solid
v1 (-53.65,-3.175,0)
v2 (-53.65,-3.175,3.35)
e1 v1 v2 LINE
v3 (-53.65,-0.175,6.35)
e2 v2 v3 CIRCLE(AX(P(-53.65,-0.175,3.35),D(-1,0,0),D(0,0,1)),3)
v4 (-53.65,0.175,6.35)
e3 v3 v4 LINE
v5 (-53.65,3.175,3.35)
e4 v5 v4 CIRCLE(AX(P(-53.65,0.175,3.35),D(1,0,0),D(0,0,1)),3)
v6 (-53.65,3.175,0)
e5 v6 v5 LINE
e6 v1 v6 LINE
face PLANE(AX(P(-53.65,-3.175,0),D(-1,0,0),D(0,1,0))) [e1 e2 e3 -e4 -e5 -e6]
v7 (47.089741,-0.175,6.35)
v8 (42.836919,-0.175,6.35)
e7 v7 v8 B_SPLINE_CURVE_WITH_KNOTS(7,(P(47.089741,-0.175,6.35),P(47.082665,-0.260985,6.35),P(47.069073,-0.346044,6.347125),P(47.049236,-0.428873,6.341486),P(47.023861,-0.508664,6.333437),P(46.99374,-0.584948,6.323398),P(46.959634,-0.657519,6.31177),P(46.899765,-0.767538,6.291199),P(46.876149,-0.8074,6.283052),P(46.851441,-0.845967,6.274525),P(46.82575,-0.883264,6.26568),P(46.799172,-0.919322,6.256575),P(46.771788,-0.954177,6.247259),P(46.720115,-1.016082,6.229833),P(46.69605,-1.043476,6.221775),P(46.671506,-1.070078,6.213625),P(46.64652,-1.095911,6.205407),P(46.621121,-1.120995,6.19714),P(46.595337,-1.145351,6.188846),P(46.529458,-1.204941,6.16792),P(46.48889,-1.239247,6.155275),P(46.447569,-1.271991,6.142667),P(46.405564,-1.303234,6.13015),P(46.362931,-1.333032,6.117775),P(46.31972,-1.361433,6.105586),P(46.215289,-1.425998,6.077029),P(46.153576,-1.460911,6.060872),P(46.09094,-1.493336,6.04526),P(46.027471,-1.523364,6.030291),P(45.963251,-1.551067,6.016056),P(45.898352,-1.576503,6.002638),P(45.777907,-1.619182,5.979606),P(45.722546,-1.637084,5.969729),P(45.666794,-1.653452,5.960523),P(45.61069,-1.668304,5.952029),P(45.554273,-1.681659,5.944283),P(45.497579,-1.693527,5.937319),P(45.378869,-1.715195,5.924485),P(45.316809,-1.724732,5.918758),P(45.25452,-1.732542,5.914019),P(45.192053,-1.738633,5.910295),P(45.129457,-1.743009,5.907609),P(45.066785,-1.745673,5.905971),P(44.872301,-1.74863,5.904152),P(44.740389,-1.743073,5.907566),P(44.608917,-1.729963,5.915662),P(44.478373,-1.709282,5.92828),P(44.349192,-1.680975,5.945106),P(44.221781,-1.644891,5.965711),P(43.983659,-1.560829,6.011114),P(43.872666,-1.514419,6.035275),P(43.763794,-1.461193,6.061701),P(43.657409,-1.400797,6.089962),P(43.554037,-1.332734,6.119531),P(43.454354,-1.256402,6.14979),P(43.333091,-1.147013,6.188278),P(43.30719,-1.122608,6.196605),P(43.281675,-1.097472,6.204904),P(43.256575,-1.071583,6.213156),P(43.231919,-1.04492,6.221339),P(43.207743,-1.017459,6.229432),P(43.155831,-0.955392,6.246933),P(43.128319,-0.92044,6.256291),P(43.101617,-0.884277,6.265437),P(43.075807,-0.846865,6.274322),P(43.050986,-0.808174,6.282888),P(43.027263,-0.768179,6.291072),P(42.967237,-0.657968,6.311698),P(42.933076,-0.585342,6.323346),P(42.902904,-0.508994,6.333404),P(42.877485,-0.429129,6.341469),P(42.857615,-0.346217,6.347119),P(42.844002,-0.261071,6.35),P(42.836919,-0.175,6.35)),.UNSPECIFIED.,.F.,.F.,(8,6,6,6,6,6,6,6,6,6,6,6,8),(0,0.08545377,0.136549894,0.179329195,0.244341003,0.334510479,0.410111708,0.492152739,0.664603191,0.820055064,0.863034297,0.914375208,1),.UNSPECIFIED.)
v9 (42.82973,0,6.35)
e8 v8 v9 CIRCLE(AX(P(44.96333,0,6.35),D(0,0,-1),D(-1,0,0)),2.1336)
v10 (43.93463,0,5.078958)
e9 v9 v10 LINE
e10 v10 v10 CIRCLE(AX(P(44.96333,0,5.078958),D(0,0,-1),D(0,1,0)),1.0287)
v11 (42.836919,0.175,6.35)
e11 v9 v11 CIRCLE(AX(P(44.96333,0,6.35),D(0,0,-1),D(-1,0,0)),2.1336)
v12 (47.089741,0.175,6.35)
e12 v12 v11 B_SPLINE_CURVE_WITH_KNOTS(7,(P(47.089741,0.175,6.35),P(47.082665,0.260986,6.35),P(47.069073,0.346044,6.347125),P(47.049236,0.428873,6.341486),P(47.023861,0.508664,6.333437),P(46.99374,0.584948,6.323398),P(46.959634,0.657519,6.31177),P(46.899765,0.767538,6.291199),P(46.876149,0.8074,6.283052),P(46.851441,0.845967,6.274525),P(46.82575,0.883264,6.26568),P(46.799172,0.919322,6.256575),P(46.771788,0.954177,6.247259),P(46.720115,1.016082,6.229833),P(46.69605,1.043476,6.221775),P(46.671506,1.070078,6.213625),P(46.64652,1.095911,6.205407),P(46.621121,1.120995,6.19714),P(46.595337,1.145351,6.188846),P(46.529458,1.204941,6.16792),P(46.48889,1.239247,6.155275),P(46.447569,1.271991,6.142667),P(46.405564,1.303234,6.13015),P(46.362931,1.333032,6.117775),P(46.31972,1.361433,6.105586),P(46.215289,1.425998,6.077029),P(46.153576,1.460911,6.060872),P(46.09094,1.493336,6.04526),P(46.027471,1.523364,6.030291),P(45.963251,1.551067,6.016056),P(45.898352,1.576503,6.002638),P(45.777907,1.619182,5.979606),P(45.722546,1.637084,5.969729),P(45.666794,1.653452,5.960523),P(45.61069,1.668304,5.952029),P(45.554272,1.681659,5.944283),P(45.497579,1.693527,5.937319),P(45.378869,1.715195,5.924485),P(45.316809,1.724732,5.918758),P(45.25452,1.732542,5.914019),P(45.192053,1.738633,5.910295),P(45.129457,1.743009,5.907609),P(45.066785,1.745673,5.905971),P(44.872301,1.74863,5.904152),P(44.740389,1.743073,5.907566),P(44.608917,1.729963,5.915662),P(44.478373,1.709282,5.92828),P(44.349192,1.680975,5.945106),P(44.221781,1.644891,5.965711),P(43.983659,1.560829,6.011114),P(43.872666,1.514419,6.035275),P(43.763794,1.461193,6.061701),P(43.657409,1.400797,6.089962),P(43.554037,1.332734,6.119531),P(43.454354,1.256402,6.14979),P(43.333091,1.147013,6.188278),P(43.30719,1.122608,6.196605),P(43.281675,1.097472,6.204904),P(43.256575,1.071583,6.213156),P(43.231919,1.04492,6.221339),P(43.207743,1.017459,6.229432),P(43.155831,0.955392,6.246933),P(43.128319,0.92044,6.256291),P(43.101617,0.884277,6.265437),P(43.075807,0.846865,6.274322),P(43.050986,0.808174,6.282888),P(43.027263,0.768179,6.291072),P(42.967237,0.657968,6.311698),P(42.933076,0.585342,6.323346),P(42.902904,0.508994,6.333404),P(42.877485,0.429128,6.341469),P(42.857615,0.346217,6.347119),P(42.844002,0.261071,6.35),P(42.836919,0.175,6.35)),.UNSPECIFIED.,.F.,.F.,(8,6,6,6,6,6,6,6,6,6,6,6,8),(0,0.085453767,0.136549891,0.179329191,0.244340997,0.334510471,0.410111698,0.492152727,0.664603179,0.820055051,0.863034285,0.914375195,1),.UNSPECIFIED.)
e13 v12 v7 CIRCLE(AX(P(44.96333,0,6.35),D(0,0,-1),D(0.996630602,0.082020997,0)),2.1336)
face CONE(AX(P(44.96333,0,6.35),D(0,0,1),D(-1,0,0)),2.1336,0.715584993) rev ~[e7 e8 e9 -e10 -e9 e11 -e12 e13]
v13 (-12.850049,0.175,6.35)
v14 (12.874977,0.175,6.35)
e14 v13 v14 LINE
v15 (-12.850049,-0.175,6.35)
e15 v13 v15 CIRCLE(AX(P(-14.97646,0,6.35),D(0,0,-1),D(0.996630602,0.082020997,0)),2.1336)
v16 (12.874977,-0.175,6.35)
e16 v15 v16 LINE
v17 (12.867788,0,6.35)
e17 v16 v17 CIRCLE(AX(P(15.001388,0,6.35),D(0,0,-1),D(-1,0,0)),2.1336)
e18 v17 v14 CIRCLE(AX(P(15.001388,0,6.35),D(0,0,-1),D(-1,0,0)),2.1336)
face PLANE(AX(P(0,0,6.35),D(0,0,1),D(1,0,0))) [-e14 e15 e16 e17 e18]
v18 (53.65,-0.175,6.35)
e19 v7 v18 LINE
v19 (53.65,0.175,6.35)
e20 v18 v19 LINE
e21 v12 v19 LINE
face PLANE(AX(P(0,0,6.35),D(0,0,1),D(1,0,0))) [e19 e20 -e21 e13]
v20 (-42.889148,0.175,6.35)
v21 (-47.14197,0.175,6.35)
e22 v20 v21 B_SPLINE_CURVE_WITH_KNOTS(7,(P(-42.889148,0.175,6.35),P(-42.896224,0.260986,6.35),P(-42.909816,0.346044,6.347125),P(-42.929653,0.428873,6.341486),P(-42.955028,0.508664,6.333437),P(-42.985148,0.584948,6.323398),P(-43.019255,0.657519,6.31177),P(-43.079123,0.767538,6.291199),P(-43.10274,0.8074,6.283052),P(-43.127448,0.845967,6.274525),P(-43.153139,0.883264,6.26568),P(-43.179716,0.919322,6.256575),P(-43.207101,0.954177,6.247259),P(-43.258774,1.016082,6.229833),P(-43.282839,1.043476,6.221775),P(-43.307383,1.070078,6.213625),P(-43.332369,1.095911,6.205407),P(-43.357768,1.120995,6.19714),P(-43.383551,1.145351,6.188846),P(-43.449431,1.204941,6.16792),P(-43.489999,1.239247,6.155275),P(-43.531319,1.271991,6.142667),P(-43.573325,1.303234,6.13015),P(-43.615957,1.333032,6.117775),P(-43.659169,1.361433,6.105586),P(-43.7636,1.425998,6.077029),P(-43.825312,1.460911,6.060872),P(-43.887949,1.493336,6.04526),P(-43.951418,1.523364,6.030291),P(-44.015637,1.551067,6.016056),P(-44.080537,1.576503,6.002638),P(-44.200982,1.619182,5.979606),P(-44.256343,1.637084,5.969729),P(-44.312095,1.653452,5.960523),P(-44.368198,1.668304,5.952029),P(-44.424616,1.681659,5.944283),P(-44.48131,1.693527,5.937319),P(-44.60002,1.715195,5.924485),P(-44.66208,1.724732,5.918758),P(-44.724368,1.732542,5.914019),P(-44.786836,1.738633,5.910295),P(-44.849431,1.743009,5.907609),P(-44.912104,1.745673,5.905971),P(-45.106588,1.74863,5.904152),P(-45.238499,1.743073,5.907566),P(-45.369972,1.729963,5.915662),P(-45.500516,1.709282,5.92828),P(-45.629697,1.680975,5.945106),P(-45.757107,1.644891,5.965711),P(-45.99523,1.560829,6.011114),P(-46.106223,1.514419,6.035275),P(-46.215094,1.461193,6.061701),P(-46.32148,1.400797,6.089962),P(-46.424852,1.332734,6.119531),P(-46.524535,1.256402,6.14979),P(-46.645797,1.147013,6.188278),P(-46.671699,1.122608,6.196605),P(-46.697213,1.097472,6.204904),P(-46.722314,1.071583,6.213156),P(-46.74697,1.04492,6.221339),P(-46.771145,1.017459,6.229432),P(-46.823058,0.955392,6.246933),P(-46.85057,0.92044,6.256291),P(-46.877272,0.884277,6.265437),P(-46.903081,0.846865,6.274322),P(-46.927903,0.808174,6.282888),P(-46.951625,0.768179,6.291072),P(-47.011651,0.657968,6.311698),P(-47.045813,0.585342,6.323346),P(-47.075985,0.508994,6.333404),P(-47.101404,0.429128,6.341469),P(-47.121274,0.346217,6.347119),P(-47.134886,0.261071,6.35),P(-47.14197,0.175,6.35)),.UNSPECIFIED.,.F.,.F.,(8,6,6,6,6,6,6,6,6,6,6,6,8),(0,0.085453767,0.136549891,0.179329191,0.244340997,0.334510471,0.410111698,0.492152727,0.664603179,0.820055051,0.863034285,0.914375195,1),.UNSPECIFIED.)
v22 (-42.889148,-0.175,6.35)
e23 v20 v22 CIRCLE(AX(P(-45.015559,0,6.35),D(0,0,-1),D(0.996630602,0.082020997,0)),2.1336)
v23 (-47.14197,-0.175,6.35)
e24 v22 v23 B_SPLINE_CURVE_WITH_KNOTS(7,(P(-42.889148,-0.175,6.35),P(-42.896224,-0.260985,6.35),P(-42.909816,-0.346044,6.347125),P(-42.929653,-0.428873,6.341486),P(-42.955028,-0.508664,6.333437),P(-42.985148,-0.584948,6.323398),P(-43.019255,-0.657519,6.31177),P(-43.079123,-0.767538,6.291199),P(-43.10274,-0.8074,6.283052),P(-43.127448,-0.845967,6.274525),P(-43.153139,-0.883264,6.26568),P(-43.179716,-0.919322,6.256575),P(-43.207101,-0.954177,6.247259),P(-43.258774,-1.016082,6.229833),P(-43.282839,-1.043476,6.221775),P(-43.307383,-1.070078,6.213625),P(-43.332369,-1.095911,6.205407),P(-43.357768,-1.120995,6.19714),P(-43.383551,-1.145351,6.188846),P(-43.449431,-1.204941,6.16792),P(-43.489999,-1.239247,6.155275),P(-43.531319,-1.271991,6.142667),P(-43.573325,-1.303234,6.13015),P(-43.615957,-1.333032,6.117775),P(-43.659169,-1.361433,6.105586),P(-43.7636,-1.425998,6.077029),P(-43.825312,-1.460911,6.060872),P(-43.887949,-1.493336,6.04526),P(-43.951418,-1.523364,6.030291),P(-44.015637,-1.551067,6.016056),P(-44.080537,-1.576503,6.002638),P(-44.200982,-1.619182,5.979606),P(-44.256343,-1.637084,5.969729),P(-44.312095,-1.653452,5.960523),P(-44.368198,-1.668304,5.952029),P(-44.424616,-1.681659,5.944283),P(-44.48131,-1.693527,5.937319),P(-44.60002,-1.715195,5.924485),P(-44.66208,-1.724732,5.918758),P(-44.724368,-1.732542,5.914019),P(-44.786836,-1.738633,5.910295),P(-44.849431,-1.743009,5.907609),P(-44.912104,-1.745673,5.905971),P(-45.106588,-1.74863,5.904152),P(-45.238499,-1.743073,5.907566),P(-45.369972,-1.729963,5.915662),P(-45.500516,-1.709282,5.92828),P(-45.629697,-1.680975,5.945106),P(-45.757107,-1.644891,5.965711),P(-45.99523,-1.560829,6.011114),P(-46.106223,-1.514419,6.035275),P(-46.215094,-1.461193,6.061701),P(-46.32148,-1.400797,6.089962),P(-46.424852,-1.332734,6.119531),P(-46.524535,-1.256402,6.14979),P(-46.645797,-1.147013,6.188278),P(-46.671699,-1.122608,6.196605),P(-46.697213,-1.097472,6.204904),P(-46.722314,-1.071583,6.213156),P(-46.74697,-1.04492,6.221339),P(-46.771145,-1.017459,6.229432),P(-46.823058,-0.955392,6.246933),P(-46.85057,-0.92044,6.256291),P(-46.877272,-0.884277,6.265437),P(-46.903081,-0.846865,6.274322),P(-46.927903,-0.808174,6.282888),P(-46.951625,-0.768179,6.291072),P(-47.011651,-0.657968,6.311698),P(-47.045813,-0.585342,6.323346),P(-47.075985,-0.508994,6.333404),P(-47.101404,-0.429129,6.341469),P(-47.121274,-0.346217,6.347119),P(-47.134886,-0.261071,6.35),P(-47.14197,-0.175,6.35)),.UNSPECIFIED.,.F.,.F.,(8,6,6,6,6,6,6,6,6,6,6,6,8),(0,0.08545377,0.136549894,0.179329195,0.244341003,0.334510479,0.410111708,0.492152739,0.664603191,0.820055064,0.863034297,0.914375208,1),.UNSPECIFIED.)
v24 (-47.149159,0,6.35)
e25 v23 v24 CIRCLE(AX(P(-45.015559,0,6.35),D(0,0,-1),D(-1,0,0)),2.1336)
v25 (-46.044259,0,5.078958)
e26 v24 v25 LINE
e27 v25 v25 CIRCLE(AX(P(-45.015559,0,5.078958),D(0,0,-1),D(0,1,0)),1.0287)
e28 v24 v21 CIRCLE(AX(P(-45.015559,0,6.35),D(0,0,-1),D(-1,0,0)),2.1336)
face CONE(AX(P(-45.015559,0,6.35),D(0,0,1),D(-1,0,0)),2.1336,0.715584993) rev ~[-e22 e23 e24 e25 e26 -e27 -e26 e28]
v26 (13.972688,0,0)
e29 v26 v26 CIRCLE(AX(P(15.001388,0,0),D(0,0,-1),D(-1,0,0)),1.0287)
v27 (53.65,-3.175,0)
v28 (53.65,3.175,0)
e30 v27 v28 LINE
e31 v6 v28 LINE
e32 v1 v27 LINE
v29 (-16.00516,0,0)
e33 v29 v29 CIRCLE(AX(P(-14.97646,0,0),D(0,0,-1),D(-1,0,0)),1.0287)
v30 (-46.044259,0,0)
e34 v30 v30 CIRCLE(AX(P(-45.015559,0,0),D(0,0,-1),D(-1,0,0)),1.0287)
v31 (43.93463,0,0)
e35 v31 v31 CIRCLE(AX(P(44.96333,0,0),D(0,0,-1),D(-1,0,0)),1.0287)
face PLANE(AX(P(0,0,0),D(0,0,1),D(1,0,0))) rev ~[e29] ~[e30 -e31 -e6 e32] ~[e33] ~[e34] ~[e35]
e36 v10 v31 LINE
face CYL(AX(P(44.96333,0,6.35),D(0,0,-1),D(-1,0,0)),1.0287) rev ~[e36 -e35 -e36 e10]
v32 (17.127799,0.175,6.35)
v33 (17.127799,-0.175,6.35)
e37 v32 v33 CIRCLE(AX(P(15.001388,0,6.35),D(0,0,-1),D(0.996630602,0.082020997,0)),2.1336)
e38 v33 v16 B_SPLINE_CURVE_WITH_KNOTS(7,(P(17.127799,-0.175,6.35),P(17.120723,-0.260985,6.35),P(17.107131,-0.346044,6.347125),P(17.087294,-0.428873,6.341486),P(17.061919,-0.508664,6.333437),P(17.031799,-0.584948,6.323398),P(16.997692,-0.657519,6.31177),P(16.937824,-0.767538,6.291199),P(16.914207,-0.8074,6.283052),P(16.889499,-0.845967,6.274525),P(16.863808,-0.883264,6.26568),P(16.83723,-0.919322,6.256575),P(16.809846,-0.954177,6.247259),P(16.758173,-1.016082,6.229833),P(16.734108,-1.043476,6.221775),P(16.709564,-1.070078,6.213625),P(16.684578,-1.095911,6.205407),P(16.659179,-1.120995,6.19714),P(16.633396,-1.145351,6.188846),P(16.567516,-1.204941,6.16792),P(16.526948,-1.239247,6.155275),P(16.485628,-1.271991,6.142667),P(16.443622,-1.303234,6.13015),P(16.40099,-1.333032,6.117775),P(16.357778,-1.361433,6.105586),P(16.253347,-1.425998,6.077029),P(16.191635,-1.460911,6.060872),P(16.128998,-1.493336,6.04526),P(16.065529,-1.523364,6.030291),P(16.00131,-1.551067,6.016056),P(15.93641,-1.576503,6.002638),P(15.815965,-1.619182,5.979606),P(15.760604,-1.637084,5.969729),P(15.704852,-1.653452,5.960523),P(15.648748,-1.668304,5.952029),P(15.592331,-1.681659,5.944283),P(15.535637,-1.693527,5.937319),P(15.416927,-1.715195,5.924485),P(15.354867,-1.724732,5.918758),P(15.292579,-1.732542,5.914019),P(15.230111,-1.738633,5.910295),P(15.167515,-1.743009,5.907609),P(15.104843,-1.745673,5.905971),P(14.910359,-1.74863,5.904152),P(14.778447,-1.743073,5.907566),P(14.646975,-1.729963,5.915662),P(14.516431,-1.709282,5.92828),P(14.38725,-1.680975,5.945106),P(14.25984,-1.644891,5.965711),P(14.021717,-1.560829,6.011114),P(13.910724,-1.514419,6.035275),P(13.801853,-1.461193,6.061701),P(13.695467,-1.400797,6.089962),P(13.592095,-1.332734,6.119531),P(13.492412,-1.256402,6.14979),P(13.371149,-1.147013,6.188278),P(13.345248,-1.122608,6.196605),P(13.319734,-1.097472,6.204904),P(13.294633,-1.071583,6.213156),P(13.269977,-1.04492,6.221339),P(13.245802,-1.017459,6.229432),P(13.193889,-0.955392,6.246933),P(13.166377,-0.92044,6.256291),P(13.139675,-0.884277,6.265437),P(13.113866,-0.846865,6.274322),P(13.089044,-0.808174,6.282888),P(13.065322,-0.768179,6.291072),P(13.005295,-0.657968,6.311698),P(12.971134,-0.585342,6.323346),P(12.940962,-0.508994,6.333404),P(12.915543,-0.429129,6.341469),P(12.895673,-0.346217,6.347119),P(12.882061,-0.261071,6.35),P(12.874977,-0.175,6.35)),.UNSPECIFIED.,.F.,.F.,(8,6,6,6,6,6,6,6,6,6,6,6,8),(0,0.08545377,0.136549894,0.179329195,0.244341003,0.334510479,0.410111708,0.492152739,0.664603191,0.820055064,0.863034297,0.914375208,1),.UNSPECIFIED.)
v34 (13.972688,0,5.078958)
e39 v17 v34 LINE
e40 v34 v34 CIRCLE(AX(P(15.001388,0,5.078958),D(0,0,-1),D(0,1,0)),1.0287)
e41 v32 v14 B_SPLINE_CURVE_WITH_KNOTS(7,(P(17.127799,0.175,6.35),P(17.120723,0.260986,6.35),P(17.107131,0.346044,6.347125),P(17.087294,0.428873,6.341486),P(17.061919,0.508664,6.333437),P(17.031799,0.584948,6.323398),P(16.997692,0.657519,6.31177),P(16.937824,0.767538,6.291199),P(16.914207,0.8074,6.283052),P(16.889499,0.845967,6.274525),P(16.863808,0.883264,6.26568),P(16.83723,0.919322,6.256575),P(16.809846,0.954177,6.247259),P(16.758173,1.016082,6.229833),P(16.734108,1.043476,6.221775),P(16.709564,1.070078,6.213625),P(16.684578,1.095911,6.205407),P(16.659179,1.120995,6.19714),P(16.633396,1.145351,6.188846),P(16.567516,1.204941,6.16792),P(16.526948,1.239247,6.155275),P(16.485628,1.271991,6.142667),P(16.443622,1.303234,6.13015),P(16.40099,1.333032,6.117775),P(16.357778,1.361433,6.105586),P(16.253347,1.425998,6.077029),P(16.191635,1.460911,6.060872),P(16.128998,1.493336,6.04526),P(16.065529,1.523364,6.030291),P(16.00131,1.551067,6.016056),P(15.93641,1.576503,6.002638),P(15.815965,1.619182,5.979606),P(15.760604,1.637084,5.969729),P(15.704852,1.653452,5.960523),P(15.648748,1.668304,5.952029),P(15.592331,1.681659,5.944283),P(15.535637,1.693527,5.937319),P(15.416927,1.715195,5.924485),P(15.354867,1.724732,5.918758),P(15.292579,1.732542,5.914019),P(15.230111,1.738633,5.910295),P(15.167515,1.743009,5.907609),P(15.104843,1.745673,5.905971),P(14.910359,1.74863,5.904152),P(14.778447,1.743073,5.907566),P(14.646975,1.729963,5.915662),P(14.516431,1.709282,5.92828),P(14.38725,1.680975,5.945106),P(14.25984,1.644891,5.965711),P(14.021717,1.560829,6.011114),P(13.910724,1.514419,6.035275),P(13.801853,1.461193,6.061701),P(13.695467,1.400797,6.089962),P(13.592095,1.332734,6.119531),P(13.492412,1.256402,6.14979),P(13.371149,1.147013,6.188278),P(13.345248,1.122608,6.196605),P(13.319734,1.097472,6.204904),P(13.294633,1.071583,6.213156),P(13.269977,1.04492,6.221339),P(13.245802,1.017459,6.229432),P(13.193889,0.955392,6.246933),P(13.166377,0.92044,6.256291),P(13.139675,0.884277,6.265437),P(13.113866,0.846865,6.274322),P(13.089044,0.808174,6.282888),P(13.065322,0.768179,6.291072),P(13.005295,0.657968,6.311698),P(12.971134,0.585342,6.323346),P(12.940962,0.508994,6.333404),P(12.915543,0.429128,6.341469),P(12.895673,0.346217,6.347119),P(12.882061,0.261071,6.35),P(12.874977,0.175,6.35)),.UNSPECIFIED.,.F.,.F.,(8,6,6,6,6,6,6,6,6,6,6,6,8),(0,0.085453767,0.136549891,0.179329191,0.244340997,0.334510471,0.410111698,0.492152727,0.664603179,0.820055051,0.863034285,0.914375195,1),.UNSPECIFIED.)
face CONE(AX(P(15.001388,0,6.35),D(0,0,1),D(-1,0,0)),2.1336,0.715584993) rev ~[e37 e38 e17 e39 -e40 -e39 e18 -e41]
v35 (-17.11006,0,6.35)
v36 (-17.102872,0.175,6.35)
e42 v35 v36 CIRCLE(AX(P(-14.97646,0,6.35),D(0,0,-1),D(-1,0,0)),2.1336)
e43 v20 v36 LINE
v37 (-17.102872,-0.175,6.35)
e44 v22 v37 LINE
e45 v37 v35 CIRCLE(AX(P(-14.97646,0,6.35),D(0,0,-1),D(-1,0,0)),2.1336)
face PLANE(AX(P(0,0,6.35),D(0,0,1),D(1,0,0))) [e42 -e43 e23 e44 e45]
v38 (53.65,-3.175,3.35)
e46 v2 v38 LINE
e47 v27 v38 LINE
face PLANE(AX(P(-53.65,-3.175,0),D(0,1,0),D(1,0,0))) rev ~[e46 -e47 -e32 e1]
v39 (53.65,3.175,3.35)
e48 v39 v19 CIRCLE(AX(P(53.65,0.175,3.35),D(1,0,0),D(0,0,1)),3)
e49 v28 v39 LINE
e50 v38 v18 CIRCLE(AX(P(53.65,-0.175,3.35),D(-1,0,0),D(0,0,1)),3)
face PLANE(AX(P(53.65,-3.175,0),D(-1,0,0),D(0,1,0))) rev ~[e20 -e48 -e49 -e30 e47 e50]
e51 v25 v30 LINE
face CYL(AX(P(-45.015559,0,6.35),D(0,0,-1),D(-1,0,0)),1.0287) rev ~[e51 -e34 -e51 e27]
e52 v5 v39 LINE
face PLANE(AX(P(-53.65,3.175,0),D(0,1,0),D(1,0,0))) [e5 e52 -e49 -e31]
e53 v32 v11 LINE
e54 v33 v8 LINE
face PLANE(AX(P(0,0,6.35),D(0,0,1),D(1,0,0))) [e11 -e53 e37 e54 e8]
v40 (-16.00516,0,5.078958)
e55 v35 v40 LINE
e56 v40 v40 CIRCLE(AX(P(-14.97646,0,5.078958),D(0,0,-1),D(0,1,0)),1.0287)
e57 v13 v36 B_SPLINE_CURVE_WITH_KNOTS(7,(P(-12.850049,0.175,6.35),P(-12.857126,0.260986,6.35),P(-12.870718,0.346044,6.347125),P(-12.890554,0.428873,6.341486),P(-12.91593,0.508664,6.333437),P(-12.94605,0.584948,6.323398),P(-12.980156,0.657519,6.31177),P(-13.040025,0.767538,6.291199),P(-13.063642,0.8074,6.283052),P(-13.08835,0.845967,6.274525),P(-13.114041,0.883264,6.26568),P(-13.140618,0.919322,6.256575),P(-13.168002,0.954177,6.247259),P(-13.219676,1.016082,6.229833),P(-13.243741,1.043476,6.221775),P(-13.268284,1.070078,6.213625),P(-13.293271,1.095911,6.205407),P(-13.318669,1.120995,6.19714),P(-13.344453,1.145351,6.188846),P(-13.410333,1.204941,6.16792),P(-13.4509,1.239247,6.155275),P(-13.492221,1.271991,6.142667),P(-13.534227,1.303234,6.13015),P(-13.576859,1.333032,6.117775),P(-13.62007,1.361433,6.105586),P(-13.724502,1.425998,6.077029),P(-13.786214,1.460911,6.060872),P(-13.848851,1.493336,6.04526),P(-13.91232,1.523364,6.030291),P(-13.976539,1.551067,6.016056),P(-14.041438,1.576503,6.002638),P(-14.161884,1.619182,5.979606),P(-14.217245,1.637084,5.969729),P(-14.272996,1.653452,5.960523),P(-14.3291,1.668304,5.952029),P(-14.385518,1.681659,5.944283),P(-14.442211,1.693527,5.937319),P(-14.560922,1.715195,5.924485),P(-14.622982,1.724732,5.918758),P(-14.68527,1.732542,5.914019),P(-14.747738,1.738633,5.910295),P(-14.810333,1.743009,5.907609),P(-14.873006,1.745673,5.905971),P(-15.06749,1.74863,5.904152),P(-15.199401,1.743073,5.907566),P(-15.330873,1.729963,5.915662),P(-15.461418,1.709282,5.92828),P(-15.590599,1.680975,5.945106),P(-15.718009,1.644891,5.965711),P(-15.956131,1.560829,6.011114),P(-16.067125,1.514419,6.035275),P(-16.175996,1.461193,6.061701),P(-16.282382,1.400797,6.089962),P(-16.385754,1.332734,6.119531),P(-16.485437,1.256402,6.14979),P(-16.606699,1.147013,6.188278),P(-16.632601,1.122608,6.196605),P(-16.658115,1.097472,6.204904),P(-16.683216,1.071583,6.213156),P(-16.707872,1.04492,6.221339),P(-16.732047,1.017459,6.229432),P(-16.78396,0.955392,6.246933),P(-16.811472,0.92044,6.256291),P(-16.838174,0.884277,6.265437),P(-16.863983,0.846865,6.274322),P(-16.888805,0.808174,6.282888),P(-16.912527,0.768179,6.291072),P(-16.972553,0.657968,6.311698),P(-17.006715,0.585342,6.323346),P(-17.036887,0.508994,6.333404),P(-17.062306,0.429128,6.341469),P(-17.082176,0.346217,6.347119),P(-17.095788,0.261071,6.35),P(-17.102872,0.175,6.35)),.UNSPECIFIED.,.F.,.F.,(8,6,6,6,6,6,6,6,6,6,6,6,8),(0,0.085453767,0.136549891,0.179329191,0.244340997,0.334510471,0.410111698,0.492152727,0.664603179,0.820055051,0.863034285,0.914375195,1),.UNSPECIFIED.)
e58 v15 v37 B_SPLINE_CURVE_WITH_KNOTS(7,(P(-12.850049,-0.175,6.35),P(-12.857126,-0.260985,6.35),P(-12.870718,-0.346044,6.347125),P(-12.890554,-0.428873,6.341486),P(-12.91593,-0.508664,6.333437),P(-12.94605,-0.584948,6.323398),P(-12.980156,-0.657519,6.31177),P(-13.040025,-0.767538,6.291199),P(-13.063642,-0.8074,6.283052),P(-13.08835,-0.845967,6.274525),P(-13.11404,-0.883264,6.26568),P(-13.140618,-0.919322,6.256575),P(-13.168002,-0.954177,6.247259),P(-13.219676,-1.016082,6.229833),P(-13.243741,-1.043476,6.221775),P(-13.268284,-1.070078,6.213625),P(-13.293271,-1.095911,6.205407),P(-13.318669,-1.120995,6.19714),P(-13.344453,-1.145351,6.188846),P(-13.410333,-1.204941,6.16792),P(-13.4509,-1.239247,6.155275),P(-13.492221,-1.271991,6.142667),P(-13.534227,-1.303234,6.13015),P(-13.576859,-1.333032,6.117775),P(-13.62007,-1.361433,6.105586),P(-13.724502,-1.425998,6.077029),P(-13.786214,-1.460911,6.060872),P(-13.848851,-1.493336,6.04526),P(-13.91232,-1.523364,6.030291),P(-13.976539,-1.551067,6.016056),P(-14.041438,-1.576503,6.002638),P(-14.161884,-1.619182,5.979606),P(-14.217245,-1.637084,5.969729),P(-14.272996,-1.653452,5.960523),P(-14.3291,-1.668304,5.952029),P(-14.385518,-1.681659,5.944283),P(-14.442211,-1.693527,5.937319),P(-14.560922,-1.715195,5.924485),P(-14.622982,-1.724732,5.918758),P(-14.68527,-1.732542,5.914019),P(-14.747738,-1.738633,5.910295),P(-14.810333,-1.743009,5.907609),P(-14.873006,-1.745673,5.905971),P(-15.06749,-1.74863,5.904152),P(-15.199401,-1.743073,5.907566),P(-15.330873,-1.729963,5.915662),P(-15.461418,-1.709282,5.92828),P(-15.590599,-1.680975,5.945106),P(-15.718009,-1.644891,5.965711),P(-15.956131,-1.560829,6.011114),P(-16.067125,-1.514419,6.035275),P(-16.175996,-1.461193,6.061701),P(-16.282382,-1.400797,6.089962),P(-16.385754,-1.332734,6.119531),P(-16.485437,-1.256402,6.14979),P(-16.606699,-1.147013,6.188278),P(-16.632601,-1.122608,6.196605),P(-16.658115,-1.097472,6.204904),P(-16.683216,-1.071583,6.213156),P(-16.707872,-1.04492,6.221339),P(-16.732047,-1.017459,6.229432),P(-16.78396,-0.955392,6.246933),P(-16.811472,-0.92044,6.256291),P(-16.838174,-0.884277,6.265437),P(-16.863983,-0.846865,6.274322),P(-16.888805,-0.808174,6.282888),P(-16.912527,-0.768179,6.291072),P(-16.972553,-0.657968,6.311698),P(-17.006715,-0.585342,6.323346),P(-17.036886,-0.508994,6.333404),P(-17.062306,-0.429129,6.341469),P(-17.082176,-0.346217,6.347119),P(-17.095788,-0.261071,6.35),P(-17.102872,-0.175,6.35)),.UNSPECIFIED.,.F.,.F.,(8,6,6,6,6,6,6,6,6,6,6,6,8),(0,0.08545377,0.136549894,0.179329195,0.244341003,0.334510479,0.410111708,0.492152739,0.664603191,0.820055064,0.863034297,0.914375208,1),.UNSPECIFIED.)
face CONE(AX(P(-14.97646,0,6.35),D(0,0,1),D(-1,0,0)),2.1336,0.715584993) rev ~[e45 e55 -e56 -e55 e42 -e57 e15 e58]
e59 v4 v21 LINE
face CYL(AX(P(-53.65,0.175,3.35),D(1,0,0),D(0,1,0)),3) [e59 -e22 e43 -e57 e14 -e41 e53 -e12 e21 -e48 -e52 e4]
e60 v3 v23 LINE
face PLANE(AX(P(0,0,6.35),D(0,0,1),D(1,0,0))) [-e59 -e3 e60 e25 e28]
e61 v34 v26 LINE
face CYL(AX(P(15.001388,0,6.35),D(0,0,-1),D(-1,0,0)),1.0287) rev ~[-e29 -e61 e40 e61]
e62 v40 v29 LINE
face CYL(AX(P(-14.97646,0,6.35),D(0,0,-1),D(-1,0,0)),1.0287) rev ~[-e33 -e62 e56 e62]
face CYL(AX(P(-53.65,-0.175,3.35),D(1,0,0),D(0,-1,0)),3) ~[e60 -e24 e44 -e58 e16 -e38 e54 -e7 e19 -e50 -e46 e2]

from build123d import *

# Parameters (mm, degrees)
F0_W           = 107.3
F0_H           = 6.35
F1_DEPTH       = 6.35
F2_R           = 3
F4_D           = 2.0574
F4_CSINK_D     = 4.2672
F4_CSINK_ANGLE = 82


with BuildPart() as f1:
    # F0 (on Top) → F1 (new body)
    with BuildSketch(Plane.XY):
        Rectangle(F0_W, F0_H)
    extrude(amount=F1_DEPTH)

    # F2
    f2_edges = [f1.edges().sort_by_distance(p)[0] for p in [
        (0, 3.175, 6.35),
        (0, -3.175, 6.35),
    ]]
    fillet(f2_edges, radius=F2_R)

    # F4 (through all)
    with Locations(Plane.XY.offset(6.35)):
        with Locations((-14.9764604867, 0), (15.0013882667, 0), (44.9633300304, 0), (-45.0155586004, 0)):
            CounterSinkHole(F4_D / 2, F4_CSINK_D / 2, counter_sink_angle=F4_CSINK_ANGLE)


solid = f1.part
